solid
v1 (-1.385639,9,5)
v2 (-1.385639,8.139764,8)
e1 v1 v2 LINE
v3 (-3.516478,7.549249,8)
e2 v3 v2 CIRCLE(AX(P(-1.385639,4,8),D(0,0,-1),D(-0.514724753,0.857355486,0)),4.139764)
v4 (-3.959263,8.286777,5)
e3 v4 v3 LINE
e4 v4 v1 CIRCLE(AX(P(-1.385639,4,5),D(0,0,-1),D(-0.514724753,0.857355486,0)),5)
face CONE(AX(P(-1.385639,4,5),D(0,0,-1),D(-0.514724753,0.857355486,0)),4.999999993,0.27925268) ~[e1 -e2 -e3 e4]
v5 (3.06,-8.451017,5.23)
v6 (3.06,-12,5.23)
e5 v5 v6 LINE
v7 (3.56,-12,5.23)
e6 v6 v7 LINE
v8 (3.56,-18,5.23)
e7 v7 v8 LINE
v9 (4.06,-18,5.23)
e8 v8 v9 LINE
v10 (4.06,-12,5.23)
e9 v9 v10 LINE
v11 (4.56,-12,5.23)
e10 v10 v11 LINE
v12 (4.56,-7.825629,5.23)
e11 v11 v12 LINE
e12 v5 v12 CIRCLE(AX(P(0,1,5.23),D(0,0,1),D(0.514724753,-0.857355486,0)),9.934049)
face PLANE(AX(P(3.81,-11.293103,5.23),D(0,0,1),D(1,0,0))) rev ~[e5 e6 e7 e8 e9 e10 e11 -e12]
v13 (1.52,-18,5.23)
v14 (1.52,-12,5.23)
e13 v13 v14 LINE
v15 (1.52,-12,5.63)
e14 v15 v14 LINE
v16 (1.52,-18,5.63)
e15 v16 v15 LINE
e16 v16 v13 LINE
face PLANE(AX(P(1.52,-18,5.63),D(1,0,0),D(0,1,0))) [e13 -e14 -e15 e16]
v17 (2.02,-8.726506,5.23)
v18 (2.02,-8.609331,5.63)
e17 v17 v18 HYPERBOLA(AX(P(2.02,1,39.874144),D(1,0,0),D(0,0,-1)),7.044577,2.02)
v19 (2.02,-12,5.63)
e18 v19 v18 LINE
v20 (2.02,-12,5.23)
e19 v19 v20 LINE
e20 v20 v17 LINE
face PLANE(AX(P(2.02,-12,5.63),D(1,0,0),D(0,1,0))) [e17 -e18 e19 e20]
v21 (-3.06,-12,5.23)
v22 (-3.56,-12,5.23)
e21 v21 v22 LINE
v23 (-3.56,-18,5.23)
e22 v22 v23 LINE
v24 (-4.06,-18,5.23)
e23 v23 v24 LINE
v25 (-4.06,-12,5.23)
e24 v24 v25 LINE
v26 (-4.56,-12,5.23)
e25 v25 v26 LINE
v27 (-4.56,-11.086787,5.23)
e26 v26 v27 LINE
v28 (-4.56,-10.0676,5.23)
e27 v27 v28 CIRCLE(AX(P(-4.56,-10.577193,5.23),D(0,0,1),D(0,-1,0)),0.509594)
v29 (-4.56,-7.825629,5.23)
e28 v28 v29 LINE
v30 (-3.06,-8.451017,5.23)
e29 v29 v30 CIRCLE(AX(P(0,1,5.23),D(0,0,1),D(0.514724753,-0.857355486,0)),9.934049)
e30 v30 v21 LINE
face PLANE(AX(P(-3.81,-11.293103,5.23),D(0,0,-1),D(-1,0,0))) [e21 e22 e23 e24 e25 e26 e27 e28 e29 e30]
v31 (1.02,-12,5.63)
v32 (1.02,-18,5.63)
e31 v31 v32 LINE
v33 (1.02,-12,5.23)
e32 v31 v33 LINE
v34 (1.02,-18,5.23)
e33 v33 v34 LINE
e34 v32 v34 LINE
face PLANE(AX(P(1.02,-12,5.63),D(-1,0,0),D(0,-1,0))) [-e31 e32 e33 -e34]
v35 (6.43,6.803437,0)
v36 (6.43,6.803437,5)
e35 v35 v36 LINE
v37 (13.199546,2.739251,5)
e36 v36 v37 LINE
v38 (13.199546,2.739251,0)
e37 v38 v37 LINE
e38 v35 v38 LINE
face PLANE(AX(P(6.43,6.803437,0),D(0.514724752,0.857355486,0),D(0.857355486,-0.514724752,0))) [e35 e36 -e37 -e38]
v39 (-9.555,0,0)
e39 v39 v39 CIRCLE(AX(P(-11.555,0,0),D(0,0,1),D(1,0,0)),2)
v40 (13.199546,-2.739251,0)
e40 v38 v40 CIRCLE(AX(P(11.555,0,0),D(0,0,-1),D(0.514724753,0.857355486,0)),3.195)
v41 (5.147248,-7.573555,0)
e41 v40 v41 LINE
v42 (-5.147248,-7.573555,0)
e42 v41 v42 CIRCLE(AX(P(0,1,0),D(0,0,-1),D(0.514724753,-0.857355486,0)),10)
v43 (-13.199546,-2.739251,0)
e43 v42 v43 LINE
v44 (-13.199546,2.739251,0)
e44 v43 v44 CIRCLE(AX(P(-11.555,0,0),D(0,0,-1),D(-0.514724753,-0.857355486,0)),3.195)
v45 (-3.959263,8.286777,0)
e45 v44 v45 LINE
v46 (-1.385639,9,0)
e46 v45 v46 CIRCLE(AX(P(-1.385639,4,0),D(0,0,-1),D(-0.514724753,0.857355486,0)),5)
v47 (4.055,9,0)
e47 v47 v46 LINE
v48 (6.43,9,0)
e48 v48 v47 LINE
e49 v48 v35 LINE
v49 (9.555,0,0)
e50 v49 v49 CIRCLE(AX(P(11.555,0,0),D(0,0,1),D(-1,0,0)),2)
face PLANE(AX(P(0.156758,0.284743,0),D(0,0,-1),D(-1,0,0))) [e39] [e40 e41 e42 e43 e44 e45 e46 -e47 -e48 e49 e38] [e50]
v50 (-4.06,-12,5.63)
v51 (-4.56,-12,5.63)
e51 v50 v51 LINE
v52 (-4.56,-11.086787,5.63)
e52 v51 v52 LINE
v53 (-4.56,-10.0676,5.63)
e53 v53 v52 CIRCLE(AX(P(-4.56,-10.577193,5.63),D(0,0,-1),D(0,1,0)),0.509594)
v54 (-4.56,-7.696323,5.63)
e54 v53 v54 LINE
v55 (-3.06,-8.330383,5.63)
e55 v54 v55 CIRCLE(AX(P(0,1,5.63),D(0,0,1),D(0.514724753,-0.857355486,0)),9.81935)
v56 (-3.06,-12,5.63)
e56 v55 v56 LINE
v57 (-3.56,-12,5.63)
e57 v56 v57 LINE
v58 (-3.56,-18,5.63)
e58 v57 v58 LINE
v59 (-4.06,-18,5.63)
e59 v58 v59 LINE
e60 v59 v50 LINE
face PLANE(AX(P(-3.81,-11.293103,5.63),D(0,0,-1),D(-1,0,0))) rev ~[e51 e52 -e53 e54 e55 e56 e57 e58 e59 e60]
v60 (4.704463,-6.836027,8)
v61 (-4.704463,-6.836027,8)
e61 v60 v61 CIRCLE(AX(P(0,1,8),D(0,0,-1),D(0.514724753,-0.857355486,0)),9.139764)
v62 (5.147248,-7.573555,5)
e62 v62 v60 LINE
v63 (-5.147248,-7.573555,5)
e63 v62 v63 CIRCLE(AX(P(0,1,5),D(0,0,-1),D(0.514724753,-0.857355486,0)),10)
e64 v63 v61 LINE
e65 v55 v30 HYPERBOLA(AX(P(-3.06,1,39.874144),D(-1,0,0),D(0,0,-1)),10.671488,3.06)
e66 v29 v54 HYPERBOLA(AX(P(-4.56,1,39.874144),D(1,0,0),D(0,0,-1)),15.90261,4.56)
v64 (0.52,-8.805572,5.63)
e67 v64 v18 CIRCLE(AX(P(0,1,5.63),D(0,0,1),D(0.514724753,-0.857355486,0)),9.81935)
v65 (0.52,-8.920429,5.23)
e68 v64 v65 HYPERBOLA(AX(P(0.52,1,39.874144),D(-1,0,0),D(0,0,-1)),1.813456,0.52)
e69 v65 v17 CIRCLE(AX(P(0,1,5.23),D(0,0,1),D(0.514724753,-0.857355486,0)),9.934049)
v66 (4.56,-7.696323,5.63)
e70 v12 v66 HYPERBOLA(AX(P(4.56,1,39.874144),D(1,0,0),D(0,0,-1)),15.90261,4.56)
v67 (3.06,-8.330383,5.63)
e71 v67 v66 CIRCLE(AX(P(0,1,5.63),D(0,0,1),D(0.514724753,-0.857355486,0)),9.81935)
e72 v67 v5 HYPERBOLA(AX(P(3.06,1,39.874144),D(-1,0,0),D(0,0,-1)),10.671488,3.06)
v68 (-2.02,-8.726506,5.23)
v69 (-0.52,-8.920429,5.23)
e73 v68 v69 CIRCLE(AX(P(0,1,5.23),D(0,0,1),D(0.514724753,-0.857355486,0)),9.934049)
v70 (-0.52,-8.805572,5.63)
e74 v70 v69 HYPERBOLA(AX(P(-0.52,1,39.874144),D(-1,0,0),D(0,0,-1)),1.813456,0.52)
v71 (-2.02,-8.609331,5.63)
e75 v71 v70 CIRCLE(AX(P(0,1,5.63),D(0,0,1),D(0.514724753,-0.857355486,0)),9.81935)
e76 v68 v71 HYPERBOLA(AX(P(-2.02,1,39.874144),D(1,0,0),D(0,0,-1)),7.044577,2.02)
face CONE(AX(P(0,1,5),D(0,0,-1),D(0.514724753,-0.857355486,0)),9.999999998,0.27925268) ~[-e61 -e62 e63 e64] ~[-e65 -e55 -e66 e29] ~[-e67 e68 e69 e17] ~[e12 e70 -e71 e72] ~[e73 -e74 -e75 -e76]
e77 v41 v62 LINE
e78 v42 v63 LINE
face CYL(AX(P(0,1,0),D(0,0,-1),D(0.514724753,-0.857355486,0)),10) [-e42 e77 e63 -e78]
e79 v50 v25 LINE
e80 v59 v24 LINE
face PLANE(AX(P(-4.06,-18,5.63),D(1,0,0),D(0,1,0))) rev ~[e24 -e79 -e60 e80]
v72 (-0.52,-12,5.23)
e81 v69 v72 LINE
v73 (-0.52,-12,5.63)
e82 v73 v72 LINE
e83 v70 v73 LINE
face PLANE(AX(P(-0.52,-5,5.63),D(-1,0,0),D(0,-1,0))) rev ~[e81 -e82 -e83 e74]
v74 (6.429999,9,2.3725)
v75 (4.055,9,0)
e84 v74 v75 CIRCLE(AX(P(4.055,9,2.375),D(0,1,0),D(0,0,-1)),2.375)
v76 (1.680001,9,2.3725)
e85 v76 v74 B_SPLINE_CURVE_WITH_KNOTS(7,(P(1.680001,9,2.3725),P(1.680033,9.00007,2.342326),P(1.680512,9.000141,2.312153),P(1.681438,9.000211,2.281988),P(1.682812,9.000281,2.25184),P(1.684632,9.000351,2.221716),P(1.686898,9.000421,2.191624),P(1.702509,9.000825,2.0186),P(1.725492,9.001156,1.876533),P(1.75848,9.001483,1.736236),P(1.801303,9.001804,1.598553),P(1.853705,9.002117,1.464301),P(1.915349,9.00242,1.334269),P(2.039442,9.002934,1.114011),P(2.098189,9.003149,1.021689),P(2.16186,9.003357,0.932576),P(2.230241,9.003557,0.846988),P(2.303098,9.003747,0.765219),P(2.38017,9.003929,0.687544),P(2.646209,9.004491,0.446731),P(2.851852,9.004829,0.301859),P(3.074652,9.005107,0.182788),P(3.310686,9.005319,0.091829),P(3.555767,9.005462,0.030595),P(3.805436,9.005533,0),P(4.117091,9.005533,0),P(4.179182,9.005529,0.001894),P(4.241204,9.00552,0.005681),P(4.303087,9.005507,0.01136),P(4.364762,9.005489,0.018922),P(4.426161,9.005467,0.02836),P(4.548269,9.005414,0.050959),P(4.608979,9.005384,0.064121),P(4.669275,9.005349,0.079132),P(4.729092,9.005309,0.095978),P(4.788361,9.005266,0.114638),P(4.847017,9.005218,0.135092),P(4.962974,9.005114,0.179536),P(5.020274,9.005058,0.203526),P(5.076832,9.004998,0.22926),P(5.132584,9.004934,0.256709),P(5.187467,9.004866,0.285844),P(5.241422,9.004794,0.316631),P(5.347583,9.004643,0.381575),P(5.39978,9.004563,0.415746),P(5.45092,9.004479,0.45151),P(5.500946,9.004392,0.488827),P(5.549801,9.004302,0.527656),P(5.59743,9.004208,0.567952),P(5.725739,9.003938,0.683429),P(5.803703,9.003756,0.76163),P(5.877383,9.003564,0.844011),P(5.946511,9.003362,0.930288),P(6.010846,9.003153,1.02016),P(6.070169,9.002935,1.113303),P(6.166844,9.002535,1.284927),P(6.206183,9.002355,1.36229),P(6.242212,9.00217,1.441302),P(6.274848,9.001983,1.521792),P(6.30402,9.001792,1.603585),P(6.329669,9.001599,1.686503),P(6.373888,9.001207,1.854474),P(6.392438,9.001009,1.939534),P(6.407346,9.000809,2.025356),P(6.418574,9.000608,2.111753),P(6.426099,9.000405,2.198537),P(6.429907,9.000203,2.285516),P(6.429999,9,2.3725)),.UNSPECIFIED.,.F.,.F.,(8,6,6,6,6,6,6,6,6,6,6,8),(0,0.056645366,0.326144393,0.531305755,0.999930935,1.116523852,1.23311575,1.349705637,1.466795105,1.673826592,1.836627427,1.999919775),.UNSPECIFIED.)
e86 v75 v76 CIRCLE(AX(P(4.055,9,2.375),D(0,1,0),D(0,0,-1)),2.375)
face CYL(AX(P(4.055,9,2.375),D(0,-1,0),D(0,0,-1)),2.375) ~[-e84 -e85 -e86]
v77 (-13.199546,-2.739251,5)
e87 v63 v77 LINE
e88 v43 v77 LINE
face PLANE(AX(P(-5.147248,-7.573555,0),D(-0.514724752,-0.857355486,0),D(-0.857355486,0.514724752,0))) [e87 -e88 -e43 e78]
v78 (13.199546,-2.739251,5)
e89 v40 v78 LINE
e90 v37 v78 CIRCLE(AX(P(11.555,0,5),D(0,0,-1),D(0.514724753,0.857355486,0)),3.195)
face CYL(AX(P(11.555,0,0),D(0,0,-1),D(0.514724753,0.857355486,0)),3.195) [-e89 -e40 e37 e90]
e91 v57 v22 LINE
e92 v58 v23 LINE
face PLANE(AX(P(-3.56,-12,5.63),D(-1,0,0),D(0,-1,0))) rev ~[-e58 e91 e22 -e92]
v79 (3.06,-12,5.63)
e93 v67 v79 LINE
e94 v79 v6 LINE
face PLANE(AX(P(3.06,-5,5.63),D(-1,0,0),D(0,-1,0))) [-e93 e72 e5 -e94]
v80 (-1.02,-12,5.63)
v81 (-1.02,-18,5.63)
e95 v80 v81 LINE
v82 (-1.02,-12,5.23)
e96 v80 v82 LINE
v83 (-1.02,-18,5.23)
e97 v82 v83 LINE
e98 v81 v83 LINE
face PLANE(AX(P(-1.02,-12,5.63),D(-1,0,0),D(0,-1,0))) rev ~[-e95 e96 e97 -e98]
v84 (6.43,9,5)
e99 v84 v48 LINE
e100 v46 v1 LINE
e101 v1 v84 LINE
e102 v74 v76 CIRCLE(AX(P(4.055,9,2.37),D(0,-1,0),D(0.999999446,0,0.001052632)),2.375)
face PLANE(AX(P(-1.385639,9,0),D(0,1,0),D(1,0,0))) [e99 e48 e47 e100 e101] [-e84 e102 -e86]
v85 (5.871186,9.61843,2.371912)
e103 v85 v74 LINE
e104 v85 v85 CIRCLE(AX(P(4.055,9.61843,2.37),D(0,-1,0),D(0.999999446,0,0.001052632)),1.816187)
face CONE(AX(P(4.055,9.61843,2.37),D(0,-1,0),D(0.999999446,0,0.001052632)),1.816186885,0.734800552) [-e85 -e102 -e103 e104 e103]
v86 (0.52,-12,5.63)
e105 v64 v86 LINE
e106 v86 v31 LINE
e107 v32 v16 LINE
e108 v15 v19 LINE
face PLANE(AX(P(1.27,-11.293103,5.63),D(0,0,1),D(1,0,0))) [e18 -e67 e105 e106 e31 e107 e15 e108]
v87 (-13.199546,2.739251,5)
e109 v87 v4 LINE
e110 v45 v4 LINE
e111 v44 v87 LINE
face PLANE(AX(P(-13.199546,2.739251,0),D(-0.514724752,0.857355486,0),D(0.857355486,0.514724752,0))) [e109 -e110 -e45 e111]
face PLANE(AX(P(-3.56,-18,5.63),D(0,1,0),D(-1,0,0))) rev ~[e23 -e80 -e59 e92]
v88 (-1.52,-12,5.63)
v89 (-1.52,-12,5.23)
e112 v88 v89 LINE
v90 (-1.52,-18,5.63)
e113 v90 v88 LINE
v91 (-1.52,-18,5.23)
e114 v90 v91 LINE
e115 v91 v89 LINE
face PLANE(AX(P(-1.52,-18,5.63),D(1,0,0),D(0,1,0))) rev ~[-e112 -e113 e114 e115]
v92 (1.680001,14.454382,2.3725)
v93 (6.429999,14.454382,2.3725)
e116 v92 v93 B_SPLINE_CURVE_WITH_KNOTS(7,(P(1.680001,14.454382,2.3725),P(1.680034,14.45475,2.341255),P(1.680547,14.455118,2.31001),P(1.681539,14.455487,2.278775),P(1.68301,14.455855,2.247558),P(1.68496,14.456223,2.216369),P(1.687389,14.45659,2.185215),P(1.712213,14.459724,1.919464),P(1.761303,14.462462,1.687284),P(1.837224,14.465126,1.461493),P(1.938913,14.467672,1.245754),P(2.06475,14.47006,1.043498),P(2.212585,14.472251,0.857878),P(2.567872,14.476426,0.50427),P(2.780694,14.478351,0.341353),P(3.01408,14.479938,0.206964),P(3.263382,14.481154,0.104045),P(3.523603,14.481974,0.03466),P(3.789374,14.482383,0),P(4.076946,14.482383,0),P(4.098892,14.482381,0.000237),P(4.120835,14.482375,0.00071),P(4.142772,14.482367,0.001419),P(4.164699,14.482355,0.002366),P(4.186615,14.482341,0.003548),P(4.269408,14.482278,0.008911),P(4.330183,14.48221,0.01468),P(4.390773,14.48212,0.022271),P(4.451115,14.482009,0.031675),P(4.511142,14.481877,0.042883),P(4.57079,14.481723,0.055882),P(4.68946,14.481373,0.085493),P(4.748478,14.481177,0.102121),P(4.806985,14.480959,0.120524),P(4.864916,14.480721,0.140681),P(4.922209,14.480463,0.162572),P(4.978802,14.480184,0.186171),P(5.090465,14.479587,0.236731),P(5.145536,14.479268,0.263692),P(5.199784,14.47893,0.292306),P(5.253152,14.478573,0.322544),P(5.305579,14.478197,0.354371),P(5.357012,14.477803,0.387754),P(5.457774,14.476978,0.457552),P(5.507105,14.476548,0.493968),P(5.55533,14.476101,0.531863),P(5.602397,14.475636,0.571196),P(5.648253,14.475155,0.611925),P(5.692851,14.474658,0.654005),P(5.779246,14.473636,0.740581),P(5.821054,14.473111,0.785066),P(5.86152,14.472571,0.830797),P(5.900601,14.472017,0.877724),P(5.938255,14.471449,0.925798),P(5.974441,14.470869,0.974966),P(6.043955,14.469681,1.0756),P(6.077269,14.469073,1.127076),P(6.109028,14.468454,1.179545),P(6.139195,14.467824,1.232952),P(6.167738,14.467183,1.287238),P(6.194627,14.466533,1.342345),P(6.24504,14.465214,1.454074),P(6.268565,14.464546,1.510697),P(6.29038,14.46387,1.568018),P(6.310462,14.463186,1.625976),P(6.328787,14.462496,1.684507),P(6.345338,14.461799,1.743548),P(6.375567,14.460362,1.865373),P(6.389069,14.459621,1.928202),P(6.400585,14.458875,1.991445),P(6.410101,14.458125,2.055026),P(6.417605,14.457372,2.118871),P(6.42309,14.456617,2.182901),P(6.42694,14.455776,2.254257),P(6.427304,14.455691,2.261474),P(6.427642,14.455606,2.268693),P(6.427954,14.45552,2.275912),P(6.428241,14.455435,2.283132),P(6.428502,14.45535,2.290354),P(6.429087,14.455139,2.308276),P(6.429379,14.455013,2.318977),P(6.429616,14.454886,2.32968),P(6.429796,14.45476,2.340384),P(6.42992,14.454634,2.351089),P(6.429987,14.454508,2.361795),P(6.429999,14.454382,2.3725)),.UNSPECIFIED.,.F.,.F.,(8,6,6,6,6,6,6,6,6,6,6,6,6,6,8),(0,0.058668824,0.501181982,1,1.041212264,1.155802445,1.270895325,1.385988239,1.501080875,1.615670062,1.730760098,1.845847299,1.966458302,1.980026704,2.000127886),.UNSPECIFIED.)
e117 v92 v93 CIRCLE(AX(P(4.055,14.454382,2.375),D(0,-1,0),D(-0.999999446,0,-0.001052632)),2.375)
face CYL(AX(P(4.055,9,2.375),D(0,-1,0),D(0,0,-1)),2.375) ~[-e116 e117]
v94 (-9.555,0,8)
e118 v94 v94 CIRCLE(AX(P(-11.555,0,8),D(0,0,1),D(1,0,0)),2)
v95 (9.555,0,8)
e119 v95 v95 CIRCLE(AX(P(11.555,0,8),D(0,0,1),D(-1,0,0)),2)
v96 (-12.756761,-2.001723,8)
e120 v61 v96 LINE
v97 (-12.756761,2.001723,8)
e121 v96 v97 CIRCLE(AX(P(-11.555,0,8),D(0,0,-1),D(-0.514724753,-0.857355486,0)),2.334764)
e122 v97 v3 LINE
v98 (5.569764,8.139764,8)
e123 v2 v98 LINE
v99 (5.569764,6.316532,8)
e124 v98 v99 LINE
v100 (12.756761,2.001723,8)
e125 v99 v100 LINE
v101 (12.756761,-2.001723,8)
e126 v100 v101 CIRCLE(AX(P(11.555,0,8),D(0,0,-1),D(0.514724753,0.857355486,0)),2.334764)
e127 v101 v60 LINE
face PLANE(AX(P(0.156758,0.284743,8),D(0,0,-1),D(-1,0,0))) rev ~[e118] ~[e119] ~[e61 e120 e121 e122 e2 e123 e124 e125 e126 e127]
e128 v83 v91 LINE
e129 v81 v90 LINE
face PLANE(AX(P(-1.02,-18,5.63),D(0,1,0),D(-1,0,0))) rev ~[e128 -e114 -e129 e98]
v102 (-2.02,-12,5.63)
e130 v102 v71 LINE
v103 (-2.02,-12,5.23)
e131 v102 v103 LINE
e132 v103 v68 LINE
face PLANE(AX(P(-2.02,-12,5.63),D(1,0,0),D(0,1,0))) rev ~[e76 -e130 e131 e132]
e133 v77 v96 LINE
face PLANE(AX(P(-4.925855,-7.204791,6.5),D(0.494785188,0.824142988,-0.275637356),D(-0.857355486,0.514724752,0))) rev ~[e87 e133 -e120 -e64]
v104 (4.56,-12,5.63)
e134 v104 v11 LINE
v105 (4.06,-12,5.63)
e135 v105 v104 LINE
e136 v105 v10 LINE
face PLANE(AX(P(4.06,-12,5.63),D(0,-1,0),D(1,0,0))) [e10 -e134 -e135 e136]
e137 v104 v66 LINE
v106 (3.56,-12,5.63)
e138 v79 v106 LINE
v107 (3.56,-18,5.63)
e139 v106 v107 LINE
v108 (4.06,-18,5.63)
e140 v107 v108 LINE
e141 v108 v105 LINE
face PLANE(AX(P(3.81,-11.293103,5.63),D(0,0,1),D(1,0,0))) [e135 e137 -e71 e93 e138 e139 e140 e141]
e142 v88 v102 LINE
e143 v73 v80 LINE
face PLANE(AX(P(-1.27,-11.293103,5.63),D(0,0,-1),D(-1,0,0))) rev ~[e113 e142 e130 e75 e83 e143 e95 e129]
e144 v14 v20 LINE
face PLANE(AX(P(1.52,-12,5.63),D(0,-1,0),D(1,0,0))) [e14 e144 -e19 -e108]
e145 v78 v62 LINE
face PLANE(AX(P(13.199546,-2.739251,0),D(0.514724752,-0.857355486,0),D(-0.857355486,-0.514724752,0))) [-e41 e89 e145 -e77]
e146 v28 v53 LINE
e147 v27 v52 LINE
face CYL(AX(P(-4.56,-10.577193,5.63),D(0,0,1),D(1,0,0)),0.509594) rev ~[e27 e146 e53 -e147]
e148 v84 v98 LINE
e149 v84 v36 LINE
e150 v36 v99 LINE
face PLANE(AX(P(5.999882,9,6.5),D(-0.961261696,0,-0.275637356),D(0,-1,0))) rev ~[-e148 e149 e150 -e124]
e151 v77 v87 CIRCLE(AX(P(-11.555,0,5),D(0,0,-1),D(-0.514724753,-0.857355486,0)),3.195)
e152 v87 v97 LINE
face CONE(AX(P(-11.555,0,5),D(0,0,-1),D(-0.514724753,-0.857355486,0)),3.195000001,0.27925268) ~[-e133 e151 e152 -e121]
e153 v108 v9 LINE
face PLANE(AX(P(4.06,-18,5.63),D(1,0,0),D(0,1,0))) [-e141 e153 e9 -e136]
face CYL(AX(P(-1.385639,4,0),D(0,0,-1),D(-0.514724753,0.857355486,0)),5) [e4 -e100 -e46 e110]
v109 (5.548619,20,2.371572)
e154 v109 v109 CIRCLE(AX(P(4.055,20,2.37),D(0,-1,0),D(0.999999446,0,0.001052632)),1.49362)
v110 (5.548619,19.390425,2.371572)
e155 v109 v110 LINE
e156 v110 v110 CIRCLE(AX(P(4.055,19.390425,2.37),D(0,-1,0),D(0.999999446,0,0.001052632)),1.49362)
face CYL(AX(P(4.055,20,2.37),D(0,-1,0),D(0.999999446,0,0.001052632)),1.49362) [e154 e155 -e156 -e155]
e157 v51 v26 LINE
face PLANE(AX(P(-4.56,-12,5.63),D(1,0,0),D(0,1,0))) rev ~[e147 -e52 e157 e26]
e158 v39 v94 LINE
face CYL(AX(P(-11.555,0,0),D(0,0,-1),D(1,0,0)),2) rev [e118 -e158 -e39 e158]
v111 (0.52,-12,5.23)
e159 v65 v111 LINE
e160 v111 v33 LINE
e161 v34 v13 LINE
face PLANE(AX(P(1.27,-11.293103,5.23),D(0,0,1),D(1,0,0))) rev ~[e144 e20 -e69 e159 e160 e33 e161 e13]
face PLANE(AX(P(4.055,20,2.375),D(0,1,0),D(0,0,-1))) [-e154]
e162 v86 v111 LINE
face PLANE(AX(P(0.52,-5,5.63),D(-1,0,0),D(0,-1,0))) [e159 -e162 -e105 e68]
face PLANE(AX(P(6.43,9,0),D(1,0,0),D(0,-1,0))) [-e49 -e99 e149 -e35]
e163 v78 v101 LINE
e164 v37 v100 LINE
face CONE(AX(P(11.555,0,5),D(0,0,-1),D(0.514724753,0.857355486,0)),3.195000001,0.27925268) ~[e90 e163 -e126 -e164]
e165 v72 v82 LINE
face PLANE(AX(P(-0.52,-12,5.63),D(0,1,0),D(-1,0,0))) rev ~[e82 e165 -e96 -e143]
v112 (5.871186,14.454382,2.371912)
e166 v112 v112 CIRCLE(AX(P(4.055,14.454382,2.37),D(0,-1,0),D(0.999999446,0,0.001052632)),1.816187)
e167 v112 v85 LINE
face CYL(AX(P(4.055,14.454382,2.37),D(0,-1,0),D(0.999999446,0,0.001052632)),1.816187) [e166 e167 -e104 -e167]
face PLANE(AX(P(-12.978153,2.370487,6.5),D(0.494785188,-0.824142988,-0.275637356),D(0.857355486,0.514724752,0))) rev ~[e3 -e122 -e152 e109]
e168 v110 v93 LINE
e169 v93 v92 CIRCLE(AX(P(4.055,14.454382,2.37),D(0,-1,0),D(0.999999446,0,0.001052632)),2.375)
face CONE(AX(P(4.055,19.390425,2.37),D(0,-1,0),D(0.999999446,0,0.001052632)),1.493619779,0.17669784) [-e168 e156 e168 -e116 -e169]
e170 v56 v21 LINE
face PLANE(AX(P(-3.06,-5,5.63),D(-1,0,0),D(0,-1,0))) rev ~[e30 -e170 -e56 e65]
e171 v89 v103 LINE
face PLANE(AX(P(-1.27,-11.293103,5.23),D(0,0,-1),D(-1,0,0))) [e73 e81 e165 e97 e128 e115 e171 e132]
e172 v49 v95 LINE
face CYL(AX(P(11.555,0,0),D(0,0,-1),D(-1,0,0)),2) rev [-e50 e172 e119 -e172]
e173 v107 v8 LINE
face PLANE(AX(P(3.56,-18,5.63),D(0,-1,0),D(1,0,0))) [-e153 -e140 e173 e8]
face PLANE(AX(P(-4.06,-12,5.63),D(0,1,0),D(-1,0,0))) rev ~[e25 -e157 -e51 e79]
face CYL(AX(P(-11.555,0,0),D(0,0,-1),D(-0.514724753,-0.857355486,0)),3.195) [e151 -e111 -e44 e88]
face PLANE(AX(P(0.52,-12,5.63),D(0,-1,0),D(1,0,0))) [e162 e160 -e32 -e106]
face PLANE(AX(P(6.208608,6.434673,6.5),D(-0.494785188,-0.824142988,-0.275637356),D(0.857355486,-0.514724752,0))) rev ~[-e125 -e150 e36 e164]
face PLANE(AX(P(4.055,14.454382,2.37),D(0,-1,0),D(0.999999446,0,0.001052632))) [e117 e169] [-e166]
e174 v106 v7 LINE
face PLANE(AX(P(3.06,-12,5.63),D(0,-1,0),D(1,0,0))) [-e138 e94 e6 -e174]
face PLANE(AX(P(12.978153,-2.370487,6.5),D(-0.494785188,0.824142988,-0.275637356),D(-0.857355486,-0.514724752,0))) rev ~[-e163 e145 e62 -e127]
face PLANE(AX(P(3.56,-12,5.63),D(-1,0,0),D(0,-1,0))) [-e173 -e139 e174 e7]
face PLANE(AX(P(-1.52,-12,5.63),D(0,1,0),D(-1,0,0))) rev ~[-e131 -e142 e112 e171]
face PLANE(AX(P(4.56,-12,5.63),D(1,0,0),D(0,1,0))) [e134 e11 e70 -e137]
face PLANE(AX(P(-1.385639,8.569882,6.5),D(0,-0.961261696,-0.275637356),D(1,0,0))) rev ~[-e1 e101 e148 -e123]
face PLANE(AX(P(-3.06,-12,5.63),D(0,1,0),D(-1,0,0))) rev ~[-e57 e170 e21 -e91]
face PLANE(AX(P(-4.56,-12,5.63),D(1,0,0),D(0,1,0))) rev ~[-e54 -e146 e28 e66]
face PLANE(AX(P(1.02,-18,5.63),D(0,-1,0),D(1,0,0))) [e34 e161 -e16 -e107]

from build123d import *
from OCP.BRepFilletAPI import BRepFilletAPI_MakeChamfer

# Parameters (mm, degrees)
SKIZZE1_R                       = 2
AUFSATZ_LINEAR_AUSTRAGEN1_DEPTH = 8
SKIZZE2_R                       = 2.375
AUFSATZ_LINEAR_AUSTRAGEN2_DEPTH = 11
FASE1_SIZE                      = 3
FASE1_SIZE2                     = 0.860236157
AUFSATZ_LINEAR_AUSTRAGEN3_DEPTH = 0.4
SKIZZE5_R                       = 0.509593562
SCHNITT_LINEAR_AUSTRAGEN1_DEPTH = 26.48056909


with BuildPart() as part:
    # Skizze1 → Aufsatz-Linear austragen1 (new body)
    with BuildSketch(Plane.XY):
        with BuildLine():
            Line((-13.199545584, 2.739250778), (-3.959262527, 8.28677743))
            ThreePointArc((-3.959262527, 8.28677743), (-2.720950124, 8.81839637), (-1.385638765, 9))
            Line((-1.385638765, 9), (0, 9))
            Line((0, 9), (2.77127753, 9))
            Line((2.77127753, 9), (6.43, 9))
            Line((6.43, 9), (6.43, 6.803437374))
            Line((6.43, 6.803437374), (13.199545584, 2.739250778))
            ThreePointArc((13.199545584, 2.739250778), (14.75, 0), (13.199545584, -2.739250778))
            Line((13.199545584, -2.739250778), (5.147247524, -7.573554859))
            ThreePointArc((5.147247524, -7.573554859), (0, -9), (-5.147247524, -7.573554859))
            Line((-5.147247524, -7.573554859), (-13.199545584, -2.739250778))
            ThreePointArc((-13.199545584, -2.739250778), (-14.75, 0), (-13.199545584, 2.739250778))
        make_face()
        with Locations((-11.555, 0)):
            Circle(SKIZZE1_R, mode=Mode.SUBTRACT)
        with Locations(Location((11.555, 0, 0), (0, 0, 180))):
            Circle(SKIZZE1_R, mode=Mode.SUBTRACT)
    extrude(amount=AUFSATZ_LINEAR_AUSTRAGEN1_DEPTH)

    # Skizze2 → Aufsatz-Linear austragen2 (add)
    with BuildSketch(Plane(origin=(0, 9, 0), x_dir=(1, 0, 0), z_dir=(0, 1, 0))):
        with Locations(Location((4.055, -2.375, 0), (0, 0, 90))):
            Circle(SKIZZE2_R)
    extrude(amount=AUFSATZ_LINEAR_AUSTRAGEN2_DEPTH)

    # Skizze3 → Schnitt-Rotation5 (revolve, cut)
    with BuildSketch(Plane(origin=(0, 0, 2.37), x_dir=(-1, 0, 0), z_dir=(0, 0, -1)), mode=Mode.PRIVATE) as schnitt_rotation5_sk:
        Polygon((-5.548619779, 20), (-5.548619779, 19.390425007), (-6.43, 14.45438156), (-5.871186885, 14.45438156), (-5.871186885, 9.618429672), (-6.43, 9), (-7.295904823, 9), (-6.993468517, 15.795841506), (-6.993468517, 20), align=None)
    revolve(schnitt_rotation5_sk.sketch.rotate(Axis((4.055, 22.337602527, 2.37), (0, -1, 0)), 0.060311358), axis=Axis((4.055, 22.337602527, 2.37), (0, -1, 0)), mode=Mode.SUBTRACT)

    # Fase1: one chamfer whose edges measure the first distance from different faces: ONE call of the kernel's chamfer builder (chamfer() names one face for all edges)
    fase1_edges_1 = [part.edges().sort_by_distance(p)[0] for p in [
        (14.75, 0, 8),
    ]]
    fase1_side_1 = [part.faces().sort_by_distance(p)[0] for p in [
        (14.75, 0, 4),
    ]]
    fase1_edges_2 = [part.edges().sort_by_distance(p)[0] for p in [
        (9.814772792, 4.771344076, 8),
    ]]
    fase1_side_2 = [part.faces().sort_by_distance(p)[0] for p in [
        (9.814772792, 4.771344076, 4),
    ]]
    fase1_edges_3 = [part.edges().sort_by_distance(p)[0] for p in [
        (6.43, 7.901718687, 8),
    ]]
    fase1_side_3 = [part.faces().sort_by_distance(p)[0] for p in [
        (6.43, 7.901718687, 4),
    ]]
    fase1_edges_4 = [part.edges().sort_by_distance(p)[0] for p in [
        (2.522180617, 9, 8),
    ]]
    fase1_side_4 = [part.faces().sort_by_distance(p)[0] for p in [
        (1.917072159, 9, 4.642485362),
    ]]
    fase1_edges_5 = [part.edges().sort_by_distance(p)[0] for p in [
        (-2.720950124, 8.81839637, 8),
    ]]
    fase1_side_5 = [part.faces().sort_by_distance(p)[0] for p in [
        (-2.720950124, 8.81839637, 4),
    ]]
    fase1_edges_6 = [part.edges().sort_by_distance(p)[0] for p in [
        (-8.579404056, 5.513014104, 8),
    ]]
    fase1_side_6 = [part.faces().sort_by_distance(p)[0] for p in [
        (-8.579404056, 5.513014104, 4),
    ]]
    fase1_edges_7 = [part.edges().sort_by_distance(p)[0] for p in [
        (-14.75, 0, 8),
    ]]
    fase1_side_7 = [part.faces().sort_by_distance(p)[0] for p in [
        (-14.75, 0, 4),
    ]]
    fase1_edges_8 = [part.edges().sort_by_distance(p)[0] for p in [
        (-9.173396554, -5.156402818, 8),
    ]]
    fase1_side_8 = [part.faces().sort_by_distance(p)[0] for p in [
        (-9.173396554, -5.156402818, 4),
    ]]
    fase1_edges_9 = [part.edges().sort_by_distance(p)[0] for p in [
        (0, -9, 8),
    ]]
    fase1_side_9 = [part.faces().sort_by_distance(p)[0] for p in [
        (0, -9, 4),
    ]]
    fase1_edges_10 = [part.edges().sort_by_distance(p)[0] for p in [
        (9.173396554, -5.156402818, 8),
    ]]
    fase1_side_10 = [part.faces().sort_by_distance(p)[0] for p in [
        (9.173396554, -5.156402818, 4),
    ]]
    fase1 = BRepFilletAPI_MakeChamfer(part.part.solid().wrapped)
    for e in fase1_edges_1:
        fase1.Add(FASE1_SIZE, FASE1_SIZE2, e.wrapped, fase1_side_1[0].wrapped)  # the first distance lies on this face
    for e in fase1_edges_2:
        fase1.Add(FASE1_SIZE, FASE1_SIZE2, e.wrapped, fase1_side_2[0].wrapped)  # the first distance lies on this face
    for e in fase1_edges_3:
        fase1.Add(FASE1_SIZE, FASE1_SIZE2, e.wrapped, fase1_side_3[0].wrapped)  # the first distance lies on this face
    for e in fase1_edges_4:
        fase1.Add(FASE1_SIZE, FASE1_SIZE2, e.wrapped, fase1_side_4[0].wrapped)  # the first distance lies on this face
    for e in fase1_edges_5:
        fase1.Add(FASE1_SIZE, FASE1_SIZE2, e.wrapped, fase1_side_5[0].wrapped)  # the first distance lies on this face
    for e in fase1_edges_6:
        fase1.Add(FASE1_SIZE, FASE1_SIZE2, e.wrapped, fase1_side_6[0].wrapped)  # the first distance lies on this face
    for e in fase1_edges_7:
        fase1.Add(FASE1_SIZE, FASE1_SIZE2, e.wrapped, fase1_side_7[0].wrapped)  # the first distance lies on this face
    for e in fase1_edges_8:
        fase1.Add(FASE1_SIZE, FASE1_SIZE2, e.wrapped, fase1_side_8[0].wrapped)  # the first distance lies on this face
    for e in fase1_edges_9:
        fase1.Add(FASE1_SIZE, FASE1_SIZE2, e.wrapped, fase1_side_9[0].wrapped)  # the first distance lies on this face
    for e in fase1_edges_10:
        fase1.Add(FASE1_SIZE, FASE1_SIZE2, e.wrapped, fase1_side_10[0].wrapped)  # the first distance lies on this face
    add(Compound.cast(fase1.Shape()), mode=Mode.REPLACE)

    # Skizze4 → Aufsatz-Linear austragen3 (add)
    with BuildSketch(Plane.XY.offset(5.63)):
        Polygon((-1.52, -12), (-2.02, -12), (-2.02, -5), (-0.52, -5), (-0.52, -12), (-1.02, -12), (-1.02, -18), (-1.52, -18), align=None)
        Polygon((-4.06, -12), (-4.56, -12), (-4.56, -5), (-3.06, -5), (-3.06, -12), (-3.56, -12), (-3.56, -18), (-4.06, -18), align=None)
        Polygon((3.56, -12), (3.56, -18), (4.06, -18), (4.06, -12), (4.56, -12), (4.56, -5), (3.06, -5), (3.06, -12), align=None)
        Polygon((1.02, -12), (1.02, -18), (1.52, -18), (1.52, -12), (2.02, -12), (2.02, -5), (0.52, -5), (0.52, -12), align=None)
    extrude(amount=-AUFSATZ_LINEAR_AUSTRAGEN3_DEPTH)

    # Skizze5 → Schnitt-Linear austragen1 (cut, through all)
    with BuildSketch(Plane.XY.offset(5.63)):
        with Locations((-4.56, -10.577193371)):
            Circle(SKIZZE5_R)
    extrude(amount=-SCHNITT_LINEAR_AUSTRAGEN1_DEPTH, mode=Mode.SUBTRACT)


solid = part.part
